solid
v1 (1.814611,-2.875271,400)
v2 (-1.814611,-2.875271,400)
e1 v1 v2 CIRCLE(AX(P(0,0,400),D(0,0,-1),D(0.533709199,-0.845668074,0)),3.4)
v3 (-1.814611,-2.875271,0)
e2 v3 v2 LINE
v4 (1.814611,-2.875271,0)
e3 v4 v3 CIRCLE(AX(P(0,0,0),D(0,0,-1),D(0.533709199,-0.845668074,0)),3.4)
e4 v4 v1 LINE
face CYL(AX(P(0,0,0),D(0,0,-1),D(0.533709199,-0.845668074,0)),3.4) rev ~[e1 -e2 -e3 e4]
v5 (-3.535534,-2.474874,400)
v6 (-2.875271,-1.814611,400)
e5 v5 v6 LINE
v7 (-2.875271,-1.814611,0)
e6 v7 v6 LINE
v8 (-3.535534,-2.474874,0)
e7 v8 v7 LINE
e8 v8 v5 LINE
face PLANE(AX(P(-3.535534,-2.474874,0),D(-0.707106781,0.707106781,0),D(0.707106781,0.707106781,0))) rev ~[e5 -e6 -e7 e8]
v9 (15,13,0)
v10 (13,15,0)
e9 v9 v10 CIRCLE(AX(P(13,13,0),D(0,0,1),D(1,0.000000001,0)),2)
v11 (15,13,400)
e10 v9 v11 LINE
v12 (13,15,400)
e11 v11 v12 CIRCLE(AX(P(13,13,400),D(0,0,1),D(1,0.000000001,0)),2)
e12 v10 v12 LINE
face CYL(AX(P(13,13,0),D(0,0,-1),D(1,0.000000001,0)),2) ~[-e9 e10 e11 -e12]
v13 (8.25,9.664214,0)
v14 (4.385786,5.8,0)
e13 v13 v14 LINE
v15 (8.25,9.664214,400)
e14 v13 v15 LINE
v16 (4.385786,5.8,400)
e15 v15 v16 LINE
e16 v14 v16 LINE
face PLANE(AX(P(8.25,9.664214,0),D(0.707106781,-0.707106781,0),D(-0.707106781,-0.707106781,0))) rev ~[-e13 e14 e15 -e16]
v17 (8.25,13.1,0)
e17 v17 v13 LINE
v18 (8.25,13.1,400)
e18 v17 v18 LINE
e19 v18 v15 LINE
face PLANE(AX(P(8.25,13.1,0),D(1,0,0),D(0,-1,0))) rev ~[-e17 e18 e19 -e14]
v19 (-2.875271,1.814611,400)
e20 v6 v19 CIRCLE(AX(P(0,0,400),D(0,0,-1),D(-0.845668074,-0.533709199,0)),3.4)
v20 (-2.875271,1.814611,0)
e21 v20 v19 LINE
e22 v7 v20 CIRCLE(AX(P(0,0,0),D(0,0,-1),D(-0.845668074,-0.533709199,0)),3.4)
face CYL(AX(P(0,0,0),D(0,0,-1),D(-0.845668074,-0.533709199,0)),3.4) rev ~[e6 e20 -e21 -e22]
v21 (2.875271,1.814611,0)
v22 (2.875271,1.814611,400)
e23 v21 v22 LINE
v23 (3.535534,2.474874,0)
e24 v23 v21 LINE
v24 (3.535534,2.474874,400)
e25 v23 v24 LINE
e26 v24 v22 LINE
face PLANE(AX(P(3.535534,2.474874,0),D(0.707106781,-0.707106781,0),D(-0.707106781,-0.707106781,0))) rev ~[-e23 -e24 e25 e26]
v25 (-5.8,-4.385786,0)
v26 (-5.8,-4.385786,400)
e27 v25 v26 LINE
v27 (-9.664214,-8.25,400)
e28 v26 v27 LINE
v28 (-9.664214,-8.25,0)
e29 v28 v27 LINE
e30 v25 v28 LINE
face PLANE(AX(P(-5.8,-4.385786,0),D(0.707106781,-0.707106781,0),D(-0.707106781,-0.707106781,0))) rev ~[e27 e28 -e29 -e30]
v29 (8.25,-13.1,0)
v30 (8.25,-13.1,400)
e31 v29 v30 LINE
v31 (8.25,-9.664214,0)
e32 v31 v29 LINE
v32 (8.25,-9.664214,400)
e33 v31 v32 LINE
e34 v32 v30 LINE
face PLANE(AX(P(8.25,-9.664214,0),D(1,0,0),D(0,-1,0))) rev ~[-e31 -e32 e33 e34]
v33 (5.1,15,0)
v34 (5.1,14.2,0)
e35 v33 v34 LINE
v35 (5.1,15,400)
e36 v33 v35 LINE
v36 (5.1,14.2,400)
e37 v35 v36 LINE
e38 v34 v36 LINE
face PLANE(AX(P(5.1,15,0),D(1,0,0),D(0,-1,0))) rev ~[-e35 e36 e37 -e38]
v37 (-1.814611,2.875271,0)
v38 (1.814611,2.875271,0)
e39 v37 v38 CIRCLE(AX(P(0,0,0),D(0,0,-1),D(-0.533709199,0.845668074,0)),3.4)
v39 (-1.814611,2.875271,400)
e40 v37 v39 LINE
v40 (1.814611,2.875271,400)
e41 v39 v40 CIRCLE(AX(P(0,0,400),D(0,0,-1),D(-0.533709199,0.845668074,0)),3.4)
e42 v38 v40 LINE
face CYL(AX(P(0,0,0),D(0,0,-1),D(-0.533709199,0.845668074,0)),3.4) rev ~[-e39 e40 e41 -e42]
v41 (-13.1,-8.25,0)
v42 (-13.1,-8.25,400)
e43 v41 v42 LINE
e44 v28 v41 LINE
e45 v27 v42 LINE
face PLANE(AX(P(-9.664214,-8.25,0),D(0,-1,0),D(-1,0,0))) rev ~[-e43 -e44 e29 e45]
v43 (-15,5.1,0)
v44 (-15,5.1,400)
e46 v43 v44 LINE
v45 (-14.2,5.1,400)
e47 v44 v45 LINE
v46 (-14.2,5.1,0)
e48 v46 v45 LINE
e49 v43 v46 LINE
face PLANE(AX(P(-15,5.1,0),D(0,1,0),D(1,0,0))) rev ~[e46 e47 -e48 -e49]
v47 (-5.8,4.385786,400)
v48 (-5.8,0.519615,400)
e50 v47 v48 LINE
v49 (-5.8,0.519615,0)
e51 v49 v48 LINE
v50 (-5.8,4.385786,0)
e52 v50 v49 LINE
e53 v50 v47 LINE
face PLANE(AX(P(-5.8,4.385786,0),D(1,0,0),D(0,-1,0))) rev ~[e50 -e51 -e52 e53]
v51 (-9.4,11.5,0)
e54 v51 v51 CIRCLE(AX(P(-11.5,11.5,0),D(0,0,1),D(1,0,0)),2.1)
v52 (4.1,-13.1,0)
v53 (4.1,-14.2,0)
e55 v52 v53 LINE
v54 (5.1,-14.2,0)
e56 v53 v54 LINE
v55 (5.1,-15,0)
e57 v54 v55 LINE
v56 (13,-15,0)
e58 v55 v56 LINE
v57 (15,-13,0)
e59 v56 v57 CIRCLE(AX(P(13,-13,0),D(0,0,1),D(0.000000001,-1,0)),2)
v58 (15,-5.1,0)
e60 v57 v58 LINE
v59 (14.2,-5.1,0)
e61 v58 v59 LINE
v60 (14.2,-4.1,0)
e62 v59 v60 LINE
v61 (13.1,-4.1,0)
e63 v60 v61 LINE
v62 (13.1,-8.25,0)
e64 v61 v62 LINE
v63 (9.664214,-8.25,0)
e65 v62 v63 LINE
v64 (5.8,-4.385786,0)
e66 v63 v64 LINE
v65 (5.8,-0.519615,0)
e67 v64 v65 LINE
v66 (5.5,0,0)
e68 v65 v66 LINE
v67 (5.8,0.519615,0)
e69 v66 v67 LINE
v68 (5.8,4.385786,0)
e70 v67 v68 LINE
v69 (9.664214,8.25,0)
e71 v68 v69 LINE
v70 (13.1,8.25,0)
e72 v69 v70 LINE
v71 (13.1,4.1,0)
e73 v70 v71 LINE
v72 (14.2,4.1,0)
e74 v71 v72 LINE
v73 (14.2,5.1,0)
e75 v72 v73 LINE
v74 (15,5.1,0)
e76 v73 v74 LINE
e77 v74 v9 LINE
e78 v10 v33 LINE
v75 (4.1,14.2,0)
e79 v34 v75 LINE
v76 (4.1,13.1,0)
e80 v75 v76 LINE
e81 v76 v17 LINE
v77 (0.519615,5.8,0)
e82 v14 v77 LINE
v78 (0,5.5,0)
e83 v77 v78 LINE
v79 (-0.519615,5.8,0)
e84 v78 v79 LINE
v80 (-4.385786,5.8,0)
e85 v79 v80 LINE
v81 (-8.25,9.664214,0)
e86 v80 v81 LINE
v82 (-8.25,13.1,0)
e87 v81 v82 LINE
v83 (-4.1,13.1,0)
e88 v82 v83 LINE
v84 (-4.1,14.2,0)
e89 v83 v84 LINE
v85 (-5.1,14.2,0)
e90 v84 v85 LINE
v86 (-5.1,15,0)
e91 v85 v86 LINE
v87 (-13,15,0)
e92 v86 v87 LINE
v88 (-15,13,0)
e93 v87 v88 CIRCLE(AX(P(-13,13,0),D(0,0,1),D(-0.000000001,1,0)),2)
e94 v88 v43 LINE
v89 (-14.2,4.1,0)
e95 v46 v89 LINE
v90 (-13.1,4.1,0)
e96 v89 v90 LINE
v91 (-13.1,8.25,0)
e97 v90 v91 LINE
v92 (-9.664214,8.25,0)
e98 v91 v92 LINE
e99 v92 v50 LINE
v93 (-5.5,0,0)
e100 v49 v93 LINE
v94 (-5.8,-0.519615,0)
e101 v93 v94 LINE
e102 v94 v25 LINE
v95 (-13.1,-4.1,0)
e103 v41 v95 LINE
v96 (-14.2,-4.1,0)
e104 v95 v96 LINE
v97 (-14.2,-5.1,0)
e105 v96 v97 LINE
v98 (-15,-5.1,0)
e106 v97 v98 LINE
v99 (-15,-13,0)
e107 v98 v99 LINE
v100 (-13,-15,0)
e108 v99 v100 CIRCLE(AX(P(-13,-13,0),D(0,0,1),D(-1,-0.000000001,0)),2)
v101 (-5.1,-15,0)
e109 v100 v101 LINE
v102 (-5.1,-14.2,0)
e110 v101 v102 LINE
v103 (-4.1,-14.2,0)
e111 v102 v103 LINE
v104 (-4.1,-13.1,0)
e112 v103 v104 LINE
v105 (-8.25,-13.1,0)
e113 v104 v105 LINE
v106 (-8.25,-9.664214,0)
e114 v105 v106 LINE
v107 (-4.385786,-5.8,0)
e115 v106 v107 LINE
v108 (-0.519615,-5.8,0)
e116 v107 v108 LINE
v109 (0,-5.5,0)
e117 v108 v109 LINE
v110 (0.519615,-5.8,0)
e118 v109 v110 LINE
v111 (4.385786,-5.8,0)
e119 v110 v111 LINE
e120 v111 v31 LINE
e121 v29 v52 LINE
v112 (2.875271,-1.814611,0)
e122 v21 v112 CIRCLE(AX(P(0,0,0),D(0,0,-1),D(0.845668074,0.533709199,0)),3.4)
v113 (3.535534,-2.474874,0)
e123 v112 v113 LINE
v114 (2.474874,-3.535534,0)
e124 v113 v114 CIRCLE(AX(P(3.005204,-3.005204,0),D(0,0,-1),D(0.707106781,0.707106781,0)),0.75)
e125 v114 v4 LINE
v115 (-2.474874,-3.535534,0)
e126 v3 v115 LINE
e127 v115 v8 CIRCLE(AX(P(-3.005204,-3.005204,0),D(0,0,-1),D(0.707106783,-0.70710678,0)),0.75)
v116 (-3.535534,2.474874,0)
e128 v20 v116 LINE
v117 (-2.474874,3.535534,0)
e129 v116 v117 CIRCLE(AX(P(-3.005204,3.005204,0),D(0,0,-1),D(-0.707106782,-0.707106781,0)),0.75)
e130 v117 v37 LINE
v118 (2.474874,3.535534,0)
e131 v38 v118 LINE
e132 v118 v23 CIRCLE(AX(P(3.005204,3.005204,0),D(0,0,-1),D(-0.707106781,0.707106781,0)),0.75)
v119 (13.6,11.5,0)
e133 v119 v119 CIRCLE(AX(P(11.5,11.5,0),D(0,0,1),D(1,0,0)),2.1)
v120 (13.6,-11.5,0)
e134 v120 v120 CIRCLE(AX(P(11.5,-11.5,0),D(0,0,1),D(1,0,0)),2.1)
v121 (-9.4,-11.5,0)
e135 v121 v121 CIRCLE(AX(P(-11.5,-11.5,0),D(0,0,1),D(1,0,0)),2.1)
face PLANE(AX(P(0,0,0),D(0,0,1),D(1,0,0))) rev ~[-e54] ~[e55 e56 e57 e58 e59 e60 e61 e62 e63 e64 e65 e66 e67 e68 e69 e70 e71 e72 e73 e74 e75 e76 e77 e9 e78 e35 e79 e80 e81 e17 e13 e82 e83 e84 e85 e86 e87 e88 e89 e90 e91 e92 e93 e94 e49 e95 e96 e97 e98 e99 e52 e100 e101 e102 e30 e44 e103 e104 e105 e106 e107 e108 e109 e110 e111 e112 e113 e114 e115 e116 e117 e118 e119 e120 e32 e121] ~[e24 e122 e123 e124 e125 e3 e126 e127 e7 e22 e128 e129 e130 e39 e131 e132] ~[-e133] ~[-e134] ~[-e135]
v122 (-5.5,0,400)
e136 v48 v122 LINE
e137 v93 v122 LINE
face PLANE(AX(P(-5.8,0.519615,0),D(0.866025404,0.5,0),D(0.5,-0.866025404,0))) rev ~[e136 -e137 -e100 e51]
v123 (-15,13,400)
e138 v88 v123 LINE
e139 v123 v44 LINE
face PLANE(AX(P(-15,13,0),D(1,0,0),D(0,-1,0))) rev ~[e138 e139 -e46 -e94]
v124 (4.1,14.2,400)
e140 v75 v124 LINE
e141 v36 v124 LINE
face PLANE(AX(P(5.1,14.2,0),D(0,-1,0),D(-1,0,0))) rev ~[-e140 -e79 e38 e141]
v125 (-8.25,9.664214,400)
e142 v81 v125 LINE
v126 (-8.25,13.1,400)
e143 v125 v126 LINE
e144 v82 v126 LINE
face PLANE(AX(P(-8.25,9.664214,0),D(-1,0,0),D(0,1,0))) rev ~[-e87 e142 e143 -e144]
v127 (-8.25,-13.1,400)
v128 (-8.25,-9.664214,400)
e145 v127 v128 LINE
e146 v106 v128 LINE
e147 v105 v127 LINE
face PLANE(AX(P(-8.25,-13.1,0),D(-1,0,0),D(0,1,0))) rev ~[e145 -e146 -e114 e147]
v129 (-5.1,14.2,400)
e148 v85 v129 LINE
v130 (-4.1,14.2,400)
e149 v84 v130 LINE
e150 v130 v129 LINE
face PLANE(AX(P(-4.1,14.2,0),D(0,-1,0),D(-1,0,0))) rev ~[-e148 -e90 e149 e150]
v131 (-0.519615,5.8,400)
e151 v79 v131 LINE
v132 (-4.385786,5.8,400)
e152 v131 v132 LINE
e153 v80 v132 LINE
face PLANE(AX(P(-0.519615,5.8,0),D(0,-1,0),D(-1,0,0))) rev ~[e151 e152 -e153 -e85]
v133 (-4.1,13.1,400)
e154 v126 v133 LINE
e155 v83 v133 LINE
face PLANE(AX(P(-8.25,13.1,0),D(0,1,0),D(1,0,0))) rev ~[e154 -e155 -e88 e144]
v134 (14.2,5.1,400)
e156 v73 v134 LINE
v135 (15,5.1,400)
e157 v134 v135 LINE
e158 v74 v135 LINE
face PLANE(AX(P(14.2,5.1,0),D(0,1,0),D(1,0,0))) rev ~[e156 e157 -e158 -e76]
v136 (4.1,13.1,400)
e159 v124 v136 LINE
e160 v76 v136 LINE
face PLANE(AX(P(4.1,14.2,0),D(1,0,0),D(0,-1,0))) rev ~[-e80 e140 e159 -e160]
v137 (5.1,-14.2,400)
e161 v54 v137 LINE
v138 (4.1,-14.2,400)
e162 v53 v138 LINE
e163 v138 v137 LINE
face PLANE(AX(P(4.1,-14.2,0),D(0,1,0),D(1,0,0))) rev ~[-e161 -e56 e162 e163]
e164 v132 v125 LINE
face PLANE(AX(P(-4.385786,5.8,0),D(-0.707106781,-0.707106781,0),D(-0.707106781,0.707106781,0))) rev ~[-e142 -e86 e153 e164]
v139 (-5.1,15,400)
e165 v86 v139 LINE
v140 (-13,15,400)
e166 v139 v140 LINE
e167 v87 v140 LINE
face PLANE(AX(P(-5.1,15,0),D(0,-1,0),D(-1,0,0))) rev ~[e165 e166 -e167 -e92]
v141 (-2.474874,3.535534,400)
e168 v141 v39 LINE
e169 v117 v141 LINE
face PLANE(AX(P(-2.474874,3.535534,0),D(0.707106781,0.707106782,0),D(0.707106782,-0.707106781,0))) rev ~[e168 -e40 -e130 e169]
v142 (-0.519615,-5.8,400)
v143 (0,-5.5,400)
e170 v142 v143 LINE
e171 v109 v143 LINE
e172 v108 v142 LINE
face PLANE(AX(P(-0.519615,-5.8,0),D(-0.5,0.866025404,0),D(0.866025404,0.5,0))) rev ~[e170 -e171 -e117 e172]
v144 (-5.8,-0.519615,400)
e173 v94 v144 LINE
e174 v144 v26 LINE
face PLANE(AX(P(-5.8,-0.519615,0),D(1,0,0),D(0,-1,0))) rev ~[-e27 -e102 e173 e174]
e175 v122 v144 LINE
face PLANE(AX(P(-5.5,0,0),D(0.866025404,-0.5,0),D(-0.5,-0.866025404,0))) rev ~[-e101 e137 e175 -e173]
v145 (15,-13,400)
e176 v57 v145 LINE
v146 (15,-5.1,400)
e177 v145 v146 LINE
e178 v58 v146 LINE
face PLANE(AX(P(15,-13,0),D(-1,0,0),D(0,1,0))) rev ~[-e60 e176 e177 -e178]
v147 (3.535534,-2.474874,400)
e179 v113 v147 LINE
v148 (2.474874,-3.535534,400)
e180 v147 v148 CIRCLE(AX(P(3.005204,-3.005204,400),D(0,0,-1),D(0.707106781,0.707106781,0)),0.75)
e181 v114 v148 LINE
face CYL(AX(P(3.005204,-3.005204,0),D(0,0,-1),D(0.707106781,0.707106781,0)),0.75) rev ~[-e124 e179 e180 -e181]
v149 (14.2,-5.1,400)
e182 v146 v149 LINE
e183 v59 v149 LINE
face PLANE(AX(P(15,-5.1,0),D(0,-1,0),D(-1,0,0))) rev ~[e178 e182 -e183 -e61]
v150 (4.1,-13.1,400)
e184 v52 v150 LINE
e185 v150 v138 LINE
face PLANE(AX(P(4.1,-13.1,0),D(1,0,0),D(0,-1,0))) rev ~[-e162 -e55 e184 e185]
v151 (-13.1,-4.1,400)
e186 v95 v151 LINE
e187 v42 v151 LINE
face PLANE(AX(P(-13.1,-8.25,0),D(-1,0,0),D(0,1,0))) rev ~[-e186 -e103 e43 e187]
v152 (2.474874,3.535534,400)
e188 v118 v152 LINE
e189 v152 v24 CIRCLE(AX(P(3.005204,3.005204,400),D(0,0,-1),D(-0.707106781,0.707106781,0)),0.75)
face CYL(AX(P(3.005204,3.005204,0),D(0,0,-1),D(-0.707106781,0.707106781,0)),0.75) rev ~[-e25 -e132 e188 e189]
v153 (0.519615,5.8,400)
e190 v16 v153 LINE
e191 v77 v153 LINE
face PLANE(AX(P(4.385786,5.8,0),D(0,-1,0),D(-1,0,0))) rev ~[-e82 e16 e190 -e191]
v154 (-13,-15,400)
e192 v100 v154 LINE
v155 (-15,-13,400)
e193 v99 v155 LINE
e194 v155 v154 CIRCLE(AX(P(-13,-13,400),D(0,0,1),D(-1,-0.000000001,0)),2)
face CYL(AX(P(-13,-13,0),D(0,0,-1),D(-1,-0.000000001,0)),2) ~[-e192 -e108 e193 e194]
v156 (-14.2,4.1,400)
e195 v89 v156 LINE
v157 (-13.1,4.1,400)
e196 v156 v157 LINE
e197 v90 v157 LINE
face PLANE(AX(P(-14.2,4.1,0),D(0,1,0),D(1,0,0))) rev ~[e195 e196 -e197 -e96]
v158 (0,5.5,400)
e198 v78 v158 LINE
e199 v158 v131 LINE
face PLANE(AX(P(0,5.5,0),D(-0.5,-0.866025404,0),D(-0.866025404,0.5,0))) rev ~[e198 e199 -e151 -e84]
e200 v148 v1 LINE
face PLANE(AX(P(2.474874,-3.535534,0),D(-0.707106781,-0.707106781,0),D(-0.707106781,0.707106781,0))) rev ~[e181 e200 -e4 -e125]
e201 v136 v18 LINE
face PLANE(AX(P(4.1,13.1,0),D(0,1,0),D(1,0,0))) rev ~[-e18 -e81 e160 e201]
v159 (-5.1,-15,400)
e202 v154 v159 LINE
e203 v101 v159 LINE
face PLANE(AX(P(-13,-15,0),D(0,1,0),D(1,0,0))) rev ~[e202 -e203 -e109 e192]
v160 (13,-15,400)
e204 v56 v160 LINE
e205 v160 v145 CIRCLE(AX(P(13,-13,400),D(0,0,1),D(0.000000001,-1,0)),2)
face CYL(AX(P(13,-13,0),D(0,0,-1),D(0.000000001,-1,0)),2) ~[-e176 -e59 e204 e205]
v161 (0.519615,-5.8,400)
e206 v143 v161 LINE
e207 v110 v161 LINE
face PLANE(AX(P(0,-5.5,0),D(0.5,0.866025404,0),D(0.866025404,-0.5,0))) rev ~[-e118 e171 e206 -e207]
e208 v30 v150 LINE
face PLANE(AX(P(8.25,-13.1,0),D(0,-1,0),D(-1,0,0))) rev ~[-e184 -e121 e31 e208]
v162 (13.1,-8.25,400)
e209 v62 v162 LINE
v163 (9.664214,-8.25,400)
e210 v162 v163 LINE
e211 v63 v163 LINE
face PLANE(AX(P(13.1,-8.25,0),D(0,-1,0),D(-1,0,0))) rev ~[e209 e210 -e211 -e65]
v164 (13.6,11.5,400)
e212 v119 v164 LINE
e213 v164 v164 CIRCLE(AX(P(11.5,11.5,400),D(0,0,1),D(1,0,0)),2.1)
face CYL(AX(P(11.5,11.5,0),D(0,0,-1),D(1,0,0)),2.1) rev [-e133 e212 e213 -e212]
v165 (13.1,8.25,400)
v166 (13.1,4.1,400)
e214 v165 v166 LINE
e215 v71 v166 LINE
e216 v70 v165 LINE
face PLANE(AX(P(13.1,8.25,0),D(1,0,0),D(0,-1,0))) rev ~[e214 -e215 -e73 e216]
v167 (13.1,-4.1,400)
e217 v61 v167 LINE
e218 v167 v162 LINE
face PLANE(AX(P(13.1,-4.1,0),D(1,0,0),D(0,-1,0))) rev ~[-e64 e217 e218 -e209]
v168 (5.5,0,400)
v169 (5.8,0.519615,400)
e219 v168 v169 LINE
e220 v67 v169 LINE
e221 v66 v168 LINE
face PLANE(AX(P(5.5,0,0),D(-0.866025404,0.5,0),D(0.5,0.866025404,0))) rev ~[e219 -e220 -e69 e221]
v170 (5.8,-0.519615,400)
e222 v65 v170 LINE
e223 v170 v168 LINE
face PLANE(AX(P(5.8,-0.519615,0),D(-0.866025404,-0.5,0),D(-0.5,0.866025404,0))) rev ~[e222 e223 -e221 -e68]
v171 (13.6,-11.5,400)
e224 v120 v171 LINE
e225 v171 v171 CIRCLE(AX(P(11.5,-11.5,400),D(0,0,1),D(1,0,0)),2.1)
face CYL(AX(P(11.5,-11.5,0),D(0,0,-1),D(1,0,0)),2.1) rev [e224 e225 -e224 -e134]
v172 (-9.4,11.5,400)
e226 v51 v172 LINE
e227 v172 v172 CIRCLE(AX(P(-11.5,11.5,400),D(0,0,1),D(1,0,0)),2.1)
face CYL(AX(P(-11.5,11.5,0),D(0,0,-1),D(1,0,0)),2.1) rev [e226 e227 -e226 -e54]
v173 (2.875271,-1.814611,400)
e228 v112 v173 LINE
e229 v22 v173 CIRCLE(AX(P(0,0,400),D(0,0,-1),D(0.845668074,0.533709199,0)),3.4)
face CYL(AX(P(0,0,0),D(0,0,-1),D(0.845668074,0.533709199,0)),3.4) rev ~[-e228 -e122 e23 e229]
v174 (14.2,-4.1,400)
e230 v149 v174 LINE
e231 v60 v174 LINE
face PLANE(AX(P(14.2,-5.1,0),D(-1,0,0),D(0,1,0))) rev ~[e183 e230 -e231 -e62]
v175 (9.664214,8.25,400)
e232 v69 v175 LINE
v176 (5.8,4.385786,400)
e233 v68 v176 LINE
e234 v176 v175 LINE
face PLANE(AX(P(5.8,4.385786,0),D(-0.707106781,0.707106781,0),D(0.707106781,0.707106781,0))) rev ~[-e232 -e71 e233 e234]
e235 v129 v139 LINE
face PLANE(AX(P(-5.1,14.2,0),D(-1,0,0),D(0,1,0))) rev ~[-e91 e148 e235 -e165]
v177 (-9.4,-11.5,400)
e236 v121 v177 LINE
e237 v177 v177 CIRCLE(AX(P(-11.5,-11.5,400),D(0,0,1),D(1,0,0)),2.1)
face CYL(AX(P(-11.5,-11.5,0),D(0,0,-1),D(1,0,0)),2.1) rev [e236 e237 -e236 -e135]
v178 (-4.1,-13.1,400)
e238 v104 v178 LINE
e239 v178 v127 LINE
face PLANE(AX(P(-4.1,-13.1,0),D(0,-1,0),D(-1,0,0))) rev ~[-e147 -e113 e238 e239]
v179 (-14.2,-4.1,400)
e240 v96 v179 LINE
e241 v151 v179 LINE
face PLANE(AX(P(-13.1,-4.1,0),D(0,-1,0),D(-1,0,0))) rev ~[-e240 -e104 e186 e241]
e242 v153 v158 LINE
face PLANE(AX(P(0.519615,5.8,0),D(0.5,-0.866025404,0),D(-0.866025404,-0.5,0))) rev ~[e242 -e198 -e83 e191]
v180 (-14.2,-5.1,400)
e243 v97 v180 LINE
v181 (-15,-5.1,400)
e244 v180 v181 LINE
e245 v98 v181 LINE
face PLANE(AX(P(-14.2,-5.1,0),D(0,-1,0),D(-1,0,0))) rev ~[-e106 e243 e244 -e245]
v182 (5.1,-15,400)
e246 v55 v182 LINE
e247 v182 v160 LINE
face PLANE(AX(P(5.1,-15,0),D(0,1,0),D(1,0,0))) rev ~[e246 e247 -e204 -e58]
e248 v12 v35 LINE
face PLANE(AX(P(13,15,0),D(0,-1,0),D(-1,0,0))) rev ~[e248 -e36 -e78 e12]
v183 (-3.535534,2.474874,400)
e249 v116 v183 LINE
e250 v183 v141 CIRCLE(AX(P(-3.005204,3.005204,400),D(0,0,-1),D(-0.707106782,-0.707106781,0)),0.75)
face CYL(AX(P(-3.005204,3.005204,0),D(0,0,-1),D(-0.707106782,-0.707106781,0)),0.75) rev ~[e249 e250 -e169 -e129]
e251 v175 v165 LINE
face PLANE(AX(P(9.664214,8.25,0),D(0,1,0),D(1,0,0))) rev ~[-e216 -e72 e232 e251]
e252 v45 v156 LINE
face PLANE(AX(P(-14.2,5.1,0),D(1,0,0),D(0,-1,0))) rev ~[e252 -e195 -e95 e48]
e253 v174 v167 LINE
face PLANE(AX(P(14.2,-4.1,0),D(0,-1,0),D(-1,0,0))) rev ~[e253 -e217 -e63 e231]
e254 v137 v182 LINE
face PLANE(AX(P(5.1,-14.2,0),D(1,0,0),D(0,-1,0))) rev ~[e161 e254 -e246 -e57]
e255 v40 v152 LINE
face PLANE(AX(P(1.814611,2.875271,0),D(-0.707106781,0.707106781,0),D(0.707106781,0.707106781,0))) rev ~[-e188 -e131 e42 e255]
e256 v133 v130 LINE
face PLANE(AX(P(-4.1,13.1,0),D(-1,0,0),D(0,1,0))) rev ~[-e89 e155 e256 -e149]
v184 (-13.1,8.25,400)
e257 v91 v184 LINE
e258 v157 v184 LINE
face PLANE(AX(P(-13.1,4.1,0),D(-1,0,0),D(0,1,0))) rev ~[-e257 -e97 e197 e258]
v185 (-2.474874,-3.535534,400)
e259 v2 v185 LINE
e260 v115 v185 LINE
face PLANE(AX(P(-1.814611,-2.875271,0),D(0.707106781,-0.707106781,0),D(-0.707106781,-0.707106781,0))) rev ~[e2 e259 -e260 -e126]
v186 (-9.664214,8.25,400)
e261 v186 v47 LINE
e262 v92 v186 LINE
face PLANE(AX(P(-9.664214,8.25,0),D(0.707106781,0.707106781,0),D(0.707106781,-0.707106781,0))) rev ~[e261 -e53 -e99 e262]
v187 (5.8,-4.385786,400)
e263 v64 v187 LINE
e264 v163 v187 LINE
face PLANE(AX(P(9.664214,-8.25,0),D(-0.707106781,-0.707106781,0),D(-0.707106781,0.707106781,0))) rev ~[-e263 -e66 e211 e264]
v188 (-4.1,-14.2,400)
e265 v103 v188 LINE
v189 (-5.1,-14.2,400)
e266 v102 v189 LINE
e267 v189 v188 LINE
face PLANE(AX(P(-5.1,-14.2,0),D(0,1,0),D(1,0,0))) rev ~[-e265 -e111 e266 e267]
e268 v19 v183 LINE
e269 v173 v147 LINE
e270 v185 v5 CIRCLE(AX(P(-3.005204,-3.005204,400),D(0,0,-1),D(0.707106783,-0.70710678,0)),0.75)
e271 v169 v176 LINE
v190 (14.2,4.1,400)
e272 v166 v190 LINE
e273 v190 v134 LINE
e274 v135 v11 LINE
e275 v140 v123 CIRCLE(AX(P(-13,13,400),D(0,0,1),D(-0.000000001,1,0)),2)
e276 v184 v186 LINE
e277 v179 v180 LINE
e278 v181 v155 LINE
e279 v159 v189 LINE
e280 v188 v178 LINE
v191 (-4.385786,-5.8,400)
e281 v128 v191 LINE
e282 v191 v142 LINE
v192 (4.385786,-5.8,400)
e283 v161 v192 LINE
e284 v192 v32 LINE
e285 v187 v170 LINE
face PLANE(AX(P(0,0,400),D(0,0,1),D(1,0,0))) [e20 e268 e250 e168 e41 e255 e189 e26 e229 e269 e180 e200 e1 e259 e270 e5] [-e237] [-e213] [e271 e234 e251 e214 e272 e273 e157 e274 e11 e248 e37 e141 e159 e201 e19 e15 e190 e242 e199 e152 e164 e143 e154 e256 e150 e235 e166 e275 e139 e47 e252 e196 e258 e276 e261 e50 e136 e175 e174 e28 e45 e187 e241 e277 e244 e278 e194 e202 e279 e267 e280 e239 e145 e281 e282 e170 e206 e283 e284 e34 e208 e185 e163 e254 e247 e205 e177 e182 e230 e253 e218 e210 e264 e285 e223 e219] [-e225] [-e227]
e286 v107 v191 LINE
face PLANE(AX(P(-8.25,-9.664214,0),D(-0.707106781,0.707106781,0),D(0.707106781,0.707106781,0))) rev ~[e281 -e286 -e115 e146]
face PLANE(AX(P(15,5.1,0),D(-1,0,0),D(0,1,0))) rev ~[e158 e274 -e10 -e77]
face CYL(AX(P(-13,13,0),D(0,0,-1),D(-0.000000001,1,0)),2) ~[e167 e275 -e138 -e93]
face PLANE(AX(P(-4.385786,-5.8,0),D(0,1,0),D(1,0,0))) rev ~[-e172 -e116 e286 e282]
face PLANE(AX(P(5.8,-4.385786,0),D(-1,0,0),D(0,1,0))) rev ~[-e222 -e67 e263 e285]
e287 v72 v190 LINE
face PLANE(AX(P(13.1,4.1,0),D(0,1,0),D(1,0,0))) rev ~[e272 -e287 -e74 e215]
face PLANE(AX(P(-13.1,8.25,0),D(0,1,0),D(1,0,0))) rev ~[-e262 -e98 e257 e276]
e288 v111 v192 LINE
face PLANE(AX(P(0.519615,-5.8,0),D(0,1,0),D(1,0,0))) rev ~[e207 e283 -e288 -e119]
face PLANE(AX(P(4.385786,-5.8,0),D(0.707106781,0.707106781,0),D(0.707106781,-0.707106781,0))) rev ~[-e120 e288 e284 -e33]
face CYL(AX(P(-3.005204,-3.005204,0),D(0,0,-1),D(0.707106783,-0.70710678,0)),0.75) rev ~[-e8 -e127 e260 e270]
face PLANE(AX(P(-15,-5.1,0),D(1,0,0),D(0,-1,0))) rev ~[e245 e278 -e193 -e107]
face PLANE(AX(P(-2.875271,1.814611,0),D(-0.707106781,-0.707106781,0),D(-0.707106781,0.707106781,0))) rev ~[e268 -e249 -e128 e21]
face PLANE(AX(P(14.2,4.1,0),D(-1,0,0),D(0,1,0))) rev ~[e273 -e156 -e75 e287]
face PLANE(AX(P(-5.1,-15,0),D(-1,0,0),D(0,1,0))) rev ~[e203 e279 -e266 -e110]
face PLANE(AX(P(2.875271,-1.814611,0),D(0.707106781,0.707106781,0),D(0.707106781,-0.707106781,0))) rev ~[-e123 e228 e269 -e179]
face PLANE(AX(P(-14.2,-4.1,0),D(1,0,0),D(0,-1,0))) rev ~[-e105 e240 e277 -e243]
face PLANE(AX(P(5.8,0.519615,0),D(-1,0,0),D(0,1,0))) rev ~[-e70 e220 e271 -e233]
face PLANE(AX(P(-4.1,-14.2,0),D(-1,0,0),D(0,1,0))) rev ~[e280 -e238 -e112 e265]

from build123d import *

# Parameters (mm, degrees)
SKETCH_28_R     = 2.1
EXTRUDE_1_DEPTH = 400


with BuildPart() as part:
    # 草图28 → 凸台-拉伸1 (new body)
    with BuildSketch(Plane.XY):
        with BuildLine():
            Line((-5.5, 0), (-5.8, -0.519615242))
            Line((-5.8, -0.519615242), (-5.8, -4.385786438))
            Line((-5.8, -4.385786438), (-9.664213562, -8.25))
            Line((-9.664213562, -8.25), (-13.1, -8.25))
            Line((-13.1, -8.25), (-13.1, -4.1))
            Line((-13.1, -4.1), (-14.2, -4.1))
            Line((-14.2, -4.1), (-14.2, -5.1))
            Line((-14.2, -5.1), (-15, -5.1))
            Line((-15, -5.1), (-15, -13))
            ThreePointArc((-15, -13), (-14.414213562, -14.414213562), (-13, -15))
            Line((-13, -15), (-5.1, -15))
            Line((-5.1, -15), (-5.1, -14.2))
            Line((-5.1, -14.2), (-4.1, -14.2))
            Line((-4.1, -14.2), (-4.1, -13.1))
            Line((-4.1, -13.1), (-8.25, -13.1))
            Line((-8.25, -13.1), (-8.25, -9.664213562))
            Line((-8.25, -9.664213562), (-4.385786438, -5.8))
            Line((-4.385786438, -5.8), (-0.519615242, -5.8))
            Line((-0.519615242, -5.8), (0, -5.5))
            Line((0, -5.5), (0.519615242, -5.8))
            Line((0.519615242, -5.8), (4.385786438, -5.8))
            Line((4.385786438, -5.8), (8.25, -9.664213562))
            Line((8.25, -9.664213562), (8.25, -13.1))
            Line((8.25, -13.1), (4.1, -13.1))
            Line((4.1, -13.1), (4.1, -14.2))
            Line((4.1, -14.2), (5.1, -14.2))
            Line((5.1, -14.2), (5.1, -15))
            Line((5.1, -15), (13, -15))
            ThreePointArc((13, -15), (14.414213562, -14.414213562), (15, -13))
            Line((15, -13), (15, -5.1))
            Line((15, -5.1), (14.2, -5.1))
            Line((14.2, -5.1), (14.2, -4.1))
            Line((14.2, -4.1), (13.1, -4.1))
            Line((13.1, -4.1), (13.1, -8.25))
            Line((13.1, -8.25), (9.664213562, -8.25))
            Line((9.664213562, -8.25), (5.8, -4.385786438))
            Line((5.8, -4.385786438), (5.8, -0.519615242))
            Line((5.8, -0.519615242), (5.5, 0))
            Line((5.5, 0), (5.8, 0.519615242))
            Line((5.8, 0.519615242), (5.8, 4.385786438))
            Line((5.8, 4.385786438), (9.664213562, 8.25))
            Line((9.664213562, 8.25), (13.1, 8.25))
            Line((13.1, 8.25), (13.1, 4.1))
            Line((13.1, 4.1), (14.2, 4.1))
            Line((14.2, 4.1), (14.2, 5.1))
            Line((14.2, 5.1), (15, 5.1))
            Line((15, 5.1), (15, 13))
            ThreePointArc((15, 13), (14.414213562, 14.414213562), (13, 15))
            Line((13, 15), (5.1, 15))
            Line((5.1, 15), (5.1, 14.2))
            Line((5.1, 14.2), (4.1, 14.2))
            Line((4.1, 14.2), (4.1, 13.1))
            Line((4.1, 13.1), (8.25, 13.1))
            Line((8.25, 13.1), (8.25, 9.664213562))
            Line((8.25, 9.664213562), (4.385786438, 5.8))
            Line((4.385786438, 5.8), (0.519615242, 5.8))
            Line((0.519615242, 5.8), (0, 5.5))
            Line((0, 5.5), (-0.519615242, 5.8))
            Line((-0.519615242, 5.8), (-4.385786438, 5.8))
            Line((-4.385786438, 5.8), (-8.25, 9.664213562))
            Line((-8.25, 9.664213562), (-8.25, 13.1))
            Line((-8.25, 13.1), (-4.1, 13.1))
            Line((-4.1, 13.1), (-4.1, 14.2))
            Line((-4.1, 14.2), (-5.1, 14.2))
            Line((-5.1, 14.2), (-5.1, 15))
            Line((-5.1, 15), (-13, 15))
            ThreePointArc((-13, 15), (-14.414213562, 14.414213562), (-15, 13))
            Line((-15, 13), (-15, 5.1))
            Line((-15, 5.1), (-14.2, 5.1))
            Line((-14.2, 5.1), (-14.2, 4.1))
            Line((-14.2, 4.1), (-13.1, 4.1))
            Line((-13.1, 4.1), (-13.1, 8.25))
            Line((-13.1, 8.25), (-9.664213562, 8.25))
            Line((-9.664213562, 8.25), (-5.8, 4.385786438))
            Line((-5.8, 4.385786438), (-5.8, 0.519615242))
            Line((-5.8, 0.519615242), (-5.5, 0))
        make_face()
        with Locations((11.5, -11.5)):
            Circle(SKETCH_28_R, mode=Mode.SUBTRACT)
        with Locations((-11.5, -11.5)):
            Circle(SKETCH_28_R, mode=Mode.SUBTRACT)
        with Locations((11.5, 11.5)):
            Circle(SKETCH_28_R, mode=Mode.SUBTRACT)
        with Locations((-11.5, 11.5)):
            Circle(SKETCH_28_R, mode=Mode.SUBTRACT)
        with BuildLine():
            Line((2.474873733, -3.535533907), (1.814611277, -2.875271451))
            ThreePointArc((1.814611277, -2.875271451), (0, -3.400000001), (-1.814611277, -2.875271452))
            Line((-1.814611277, -2.875271452), (-2.47487373, -3.535533905))
            ThreePointArc((-2.47487373, -3.535533905), (-3.535533904, -3.535533907), (-3.535533905, -2.474873733))
            Line((-3.535533905, -2.474873733), (-2.875271451, -1.814611279))
            ThreePointArc((-2.875271451, -1.814611279), (-3.400000001, 0), (-2.87527145, 1.814611278))
            Line((-2.87527145, 1.814611278), (-3.535533908, 2.474873736))
            ThreePointArc((-3.535533908, 2.474873736), (-3.535533907, 3.535533907), (-2.474873737, 3.535533906))
            Line((-2.474873737, 3.535533906), (-1.814611279, 2.875271449))
            ThreePointArc((-1.814611279, 2.875271449), (-1e-09, 3.399999999), (1.814611277, 2.875271449))
            Line((1.814611277, 2.875271449), (2.474873733, 3.535533905))
            ThreePointArc((2.474873733, 3.535533905), (3.535533905, 3.535533905), (3.535533905, 2.474873733))
            Line((3.535533905, 2.474873733), (2.875271449, 1.814611277))
            ThreePointArc((2.875271449, 1.814611277), (3.399999999, -1e-09), (2.875271449, -1.814611279))
            Line((2.875271449, -1.814611279), (3.535533905, -2.474873735))
            ThreePointArc((3.535533905, -2.474873735), (3.535533905, -3.535533907), (2.474873733, -3.535533907))
        make_face(mode=Mode.SUBTRACT)
    extrude(amount=EXTRUDE_1_DEPTH)


solid = part.part
